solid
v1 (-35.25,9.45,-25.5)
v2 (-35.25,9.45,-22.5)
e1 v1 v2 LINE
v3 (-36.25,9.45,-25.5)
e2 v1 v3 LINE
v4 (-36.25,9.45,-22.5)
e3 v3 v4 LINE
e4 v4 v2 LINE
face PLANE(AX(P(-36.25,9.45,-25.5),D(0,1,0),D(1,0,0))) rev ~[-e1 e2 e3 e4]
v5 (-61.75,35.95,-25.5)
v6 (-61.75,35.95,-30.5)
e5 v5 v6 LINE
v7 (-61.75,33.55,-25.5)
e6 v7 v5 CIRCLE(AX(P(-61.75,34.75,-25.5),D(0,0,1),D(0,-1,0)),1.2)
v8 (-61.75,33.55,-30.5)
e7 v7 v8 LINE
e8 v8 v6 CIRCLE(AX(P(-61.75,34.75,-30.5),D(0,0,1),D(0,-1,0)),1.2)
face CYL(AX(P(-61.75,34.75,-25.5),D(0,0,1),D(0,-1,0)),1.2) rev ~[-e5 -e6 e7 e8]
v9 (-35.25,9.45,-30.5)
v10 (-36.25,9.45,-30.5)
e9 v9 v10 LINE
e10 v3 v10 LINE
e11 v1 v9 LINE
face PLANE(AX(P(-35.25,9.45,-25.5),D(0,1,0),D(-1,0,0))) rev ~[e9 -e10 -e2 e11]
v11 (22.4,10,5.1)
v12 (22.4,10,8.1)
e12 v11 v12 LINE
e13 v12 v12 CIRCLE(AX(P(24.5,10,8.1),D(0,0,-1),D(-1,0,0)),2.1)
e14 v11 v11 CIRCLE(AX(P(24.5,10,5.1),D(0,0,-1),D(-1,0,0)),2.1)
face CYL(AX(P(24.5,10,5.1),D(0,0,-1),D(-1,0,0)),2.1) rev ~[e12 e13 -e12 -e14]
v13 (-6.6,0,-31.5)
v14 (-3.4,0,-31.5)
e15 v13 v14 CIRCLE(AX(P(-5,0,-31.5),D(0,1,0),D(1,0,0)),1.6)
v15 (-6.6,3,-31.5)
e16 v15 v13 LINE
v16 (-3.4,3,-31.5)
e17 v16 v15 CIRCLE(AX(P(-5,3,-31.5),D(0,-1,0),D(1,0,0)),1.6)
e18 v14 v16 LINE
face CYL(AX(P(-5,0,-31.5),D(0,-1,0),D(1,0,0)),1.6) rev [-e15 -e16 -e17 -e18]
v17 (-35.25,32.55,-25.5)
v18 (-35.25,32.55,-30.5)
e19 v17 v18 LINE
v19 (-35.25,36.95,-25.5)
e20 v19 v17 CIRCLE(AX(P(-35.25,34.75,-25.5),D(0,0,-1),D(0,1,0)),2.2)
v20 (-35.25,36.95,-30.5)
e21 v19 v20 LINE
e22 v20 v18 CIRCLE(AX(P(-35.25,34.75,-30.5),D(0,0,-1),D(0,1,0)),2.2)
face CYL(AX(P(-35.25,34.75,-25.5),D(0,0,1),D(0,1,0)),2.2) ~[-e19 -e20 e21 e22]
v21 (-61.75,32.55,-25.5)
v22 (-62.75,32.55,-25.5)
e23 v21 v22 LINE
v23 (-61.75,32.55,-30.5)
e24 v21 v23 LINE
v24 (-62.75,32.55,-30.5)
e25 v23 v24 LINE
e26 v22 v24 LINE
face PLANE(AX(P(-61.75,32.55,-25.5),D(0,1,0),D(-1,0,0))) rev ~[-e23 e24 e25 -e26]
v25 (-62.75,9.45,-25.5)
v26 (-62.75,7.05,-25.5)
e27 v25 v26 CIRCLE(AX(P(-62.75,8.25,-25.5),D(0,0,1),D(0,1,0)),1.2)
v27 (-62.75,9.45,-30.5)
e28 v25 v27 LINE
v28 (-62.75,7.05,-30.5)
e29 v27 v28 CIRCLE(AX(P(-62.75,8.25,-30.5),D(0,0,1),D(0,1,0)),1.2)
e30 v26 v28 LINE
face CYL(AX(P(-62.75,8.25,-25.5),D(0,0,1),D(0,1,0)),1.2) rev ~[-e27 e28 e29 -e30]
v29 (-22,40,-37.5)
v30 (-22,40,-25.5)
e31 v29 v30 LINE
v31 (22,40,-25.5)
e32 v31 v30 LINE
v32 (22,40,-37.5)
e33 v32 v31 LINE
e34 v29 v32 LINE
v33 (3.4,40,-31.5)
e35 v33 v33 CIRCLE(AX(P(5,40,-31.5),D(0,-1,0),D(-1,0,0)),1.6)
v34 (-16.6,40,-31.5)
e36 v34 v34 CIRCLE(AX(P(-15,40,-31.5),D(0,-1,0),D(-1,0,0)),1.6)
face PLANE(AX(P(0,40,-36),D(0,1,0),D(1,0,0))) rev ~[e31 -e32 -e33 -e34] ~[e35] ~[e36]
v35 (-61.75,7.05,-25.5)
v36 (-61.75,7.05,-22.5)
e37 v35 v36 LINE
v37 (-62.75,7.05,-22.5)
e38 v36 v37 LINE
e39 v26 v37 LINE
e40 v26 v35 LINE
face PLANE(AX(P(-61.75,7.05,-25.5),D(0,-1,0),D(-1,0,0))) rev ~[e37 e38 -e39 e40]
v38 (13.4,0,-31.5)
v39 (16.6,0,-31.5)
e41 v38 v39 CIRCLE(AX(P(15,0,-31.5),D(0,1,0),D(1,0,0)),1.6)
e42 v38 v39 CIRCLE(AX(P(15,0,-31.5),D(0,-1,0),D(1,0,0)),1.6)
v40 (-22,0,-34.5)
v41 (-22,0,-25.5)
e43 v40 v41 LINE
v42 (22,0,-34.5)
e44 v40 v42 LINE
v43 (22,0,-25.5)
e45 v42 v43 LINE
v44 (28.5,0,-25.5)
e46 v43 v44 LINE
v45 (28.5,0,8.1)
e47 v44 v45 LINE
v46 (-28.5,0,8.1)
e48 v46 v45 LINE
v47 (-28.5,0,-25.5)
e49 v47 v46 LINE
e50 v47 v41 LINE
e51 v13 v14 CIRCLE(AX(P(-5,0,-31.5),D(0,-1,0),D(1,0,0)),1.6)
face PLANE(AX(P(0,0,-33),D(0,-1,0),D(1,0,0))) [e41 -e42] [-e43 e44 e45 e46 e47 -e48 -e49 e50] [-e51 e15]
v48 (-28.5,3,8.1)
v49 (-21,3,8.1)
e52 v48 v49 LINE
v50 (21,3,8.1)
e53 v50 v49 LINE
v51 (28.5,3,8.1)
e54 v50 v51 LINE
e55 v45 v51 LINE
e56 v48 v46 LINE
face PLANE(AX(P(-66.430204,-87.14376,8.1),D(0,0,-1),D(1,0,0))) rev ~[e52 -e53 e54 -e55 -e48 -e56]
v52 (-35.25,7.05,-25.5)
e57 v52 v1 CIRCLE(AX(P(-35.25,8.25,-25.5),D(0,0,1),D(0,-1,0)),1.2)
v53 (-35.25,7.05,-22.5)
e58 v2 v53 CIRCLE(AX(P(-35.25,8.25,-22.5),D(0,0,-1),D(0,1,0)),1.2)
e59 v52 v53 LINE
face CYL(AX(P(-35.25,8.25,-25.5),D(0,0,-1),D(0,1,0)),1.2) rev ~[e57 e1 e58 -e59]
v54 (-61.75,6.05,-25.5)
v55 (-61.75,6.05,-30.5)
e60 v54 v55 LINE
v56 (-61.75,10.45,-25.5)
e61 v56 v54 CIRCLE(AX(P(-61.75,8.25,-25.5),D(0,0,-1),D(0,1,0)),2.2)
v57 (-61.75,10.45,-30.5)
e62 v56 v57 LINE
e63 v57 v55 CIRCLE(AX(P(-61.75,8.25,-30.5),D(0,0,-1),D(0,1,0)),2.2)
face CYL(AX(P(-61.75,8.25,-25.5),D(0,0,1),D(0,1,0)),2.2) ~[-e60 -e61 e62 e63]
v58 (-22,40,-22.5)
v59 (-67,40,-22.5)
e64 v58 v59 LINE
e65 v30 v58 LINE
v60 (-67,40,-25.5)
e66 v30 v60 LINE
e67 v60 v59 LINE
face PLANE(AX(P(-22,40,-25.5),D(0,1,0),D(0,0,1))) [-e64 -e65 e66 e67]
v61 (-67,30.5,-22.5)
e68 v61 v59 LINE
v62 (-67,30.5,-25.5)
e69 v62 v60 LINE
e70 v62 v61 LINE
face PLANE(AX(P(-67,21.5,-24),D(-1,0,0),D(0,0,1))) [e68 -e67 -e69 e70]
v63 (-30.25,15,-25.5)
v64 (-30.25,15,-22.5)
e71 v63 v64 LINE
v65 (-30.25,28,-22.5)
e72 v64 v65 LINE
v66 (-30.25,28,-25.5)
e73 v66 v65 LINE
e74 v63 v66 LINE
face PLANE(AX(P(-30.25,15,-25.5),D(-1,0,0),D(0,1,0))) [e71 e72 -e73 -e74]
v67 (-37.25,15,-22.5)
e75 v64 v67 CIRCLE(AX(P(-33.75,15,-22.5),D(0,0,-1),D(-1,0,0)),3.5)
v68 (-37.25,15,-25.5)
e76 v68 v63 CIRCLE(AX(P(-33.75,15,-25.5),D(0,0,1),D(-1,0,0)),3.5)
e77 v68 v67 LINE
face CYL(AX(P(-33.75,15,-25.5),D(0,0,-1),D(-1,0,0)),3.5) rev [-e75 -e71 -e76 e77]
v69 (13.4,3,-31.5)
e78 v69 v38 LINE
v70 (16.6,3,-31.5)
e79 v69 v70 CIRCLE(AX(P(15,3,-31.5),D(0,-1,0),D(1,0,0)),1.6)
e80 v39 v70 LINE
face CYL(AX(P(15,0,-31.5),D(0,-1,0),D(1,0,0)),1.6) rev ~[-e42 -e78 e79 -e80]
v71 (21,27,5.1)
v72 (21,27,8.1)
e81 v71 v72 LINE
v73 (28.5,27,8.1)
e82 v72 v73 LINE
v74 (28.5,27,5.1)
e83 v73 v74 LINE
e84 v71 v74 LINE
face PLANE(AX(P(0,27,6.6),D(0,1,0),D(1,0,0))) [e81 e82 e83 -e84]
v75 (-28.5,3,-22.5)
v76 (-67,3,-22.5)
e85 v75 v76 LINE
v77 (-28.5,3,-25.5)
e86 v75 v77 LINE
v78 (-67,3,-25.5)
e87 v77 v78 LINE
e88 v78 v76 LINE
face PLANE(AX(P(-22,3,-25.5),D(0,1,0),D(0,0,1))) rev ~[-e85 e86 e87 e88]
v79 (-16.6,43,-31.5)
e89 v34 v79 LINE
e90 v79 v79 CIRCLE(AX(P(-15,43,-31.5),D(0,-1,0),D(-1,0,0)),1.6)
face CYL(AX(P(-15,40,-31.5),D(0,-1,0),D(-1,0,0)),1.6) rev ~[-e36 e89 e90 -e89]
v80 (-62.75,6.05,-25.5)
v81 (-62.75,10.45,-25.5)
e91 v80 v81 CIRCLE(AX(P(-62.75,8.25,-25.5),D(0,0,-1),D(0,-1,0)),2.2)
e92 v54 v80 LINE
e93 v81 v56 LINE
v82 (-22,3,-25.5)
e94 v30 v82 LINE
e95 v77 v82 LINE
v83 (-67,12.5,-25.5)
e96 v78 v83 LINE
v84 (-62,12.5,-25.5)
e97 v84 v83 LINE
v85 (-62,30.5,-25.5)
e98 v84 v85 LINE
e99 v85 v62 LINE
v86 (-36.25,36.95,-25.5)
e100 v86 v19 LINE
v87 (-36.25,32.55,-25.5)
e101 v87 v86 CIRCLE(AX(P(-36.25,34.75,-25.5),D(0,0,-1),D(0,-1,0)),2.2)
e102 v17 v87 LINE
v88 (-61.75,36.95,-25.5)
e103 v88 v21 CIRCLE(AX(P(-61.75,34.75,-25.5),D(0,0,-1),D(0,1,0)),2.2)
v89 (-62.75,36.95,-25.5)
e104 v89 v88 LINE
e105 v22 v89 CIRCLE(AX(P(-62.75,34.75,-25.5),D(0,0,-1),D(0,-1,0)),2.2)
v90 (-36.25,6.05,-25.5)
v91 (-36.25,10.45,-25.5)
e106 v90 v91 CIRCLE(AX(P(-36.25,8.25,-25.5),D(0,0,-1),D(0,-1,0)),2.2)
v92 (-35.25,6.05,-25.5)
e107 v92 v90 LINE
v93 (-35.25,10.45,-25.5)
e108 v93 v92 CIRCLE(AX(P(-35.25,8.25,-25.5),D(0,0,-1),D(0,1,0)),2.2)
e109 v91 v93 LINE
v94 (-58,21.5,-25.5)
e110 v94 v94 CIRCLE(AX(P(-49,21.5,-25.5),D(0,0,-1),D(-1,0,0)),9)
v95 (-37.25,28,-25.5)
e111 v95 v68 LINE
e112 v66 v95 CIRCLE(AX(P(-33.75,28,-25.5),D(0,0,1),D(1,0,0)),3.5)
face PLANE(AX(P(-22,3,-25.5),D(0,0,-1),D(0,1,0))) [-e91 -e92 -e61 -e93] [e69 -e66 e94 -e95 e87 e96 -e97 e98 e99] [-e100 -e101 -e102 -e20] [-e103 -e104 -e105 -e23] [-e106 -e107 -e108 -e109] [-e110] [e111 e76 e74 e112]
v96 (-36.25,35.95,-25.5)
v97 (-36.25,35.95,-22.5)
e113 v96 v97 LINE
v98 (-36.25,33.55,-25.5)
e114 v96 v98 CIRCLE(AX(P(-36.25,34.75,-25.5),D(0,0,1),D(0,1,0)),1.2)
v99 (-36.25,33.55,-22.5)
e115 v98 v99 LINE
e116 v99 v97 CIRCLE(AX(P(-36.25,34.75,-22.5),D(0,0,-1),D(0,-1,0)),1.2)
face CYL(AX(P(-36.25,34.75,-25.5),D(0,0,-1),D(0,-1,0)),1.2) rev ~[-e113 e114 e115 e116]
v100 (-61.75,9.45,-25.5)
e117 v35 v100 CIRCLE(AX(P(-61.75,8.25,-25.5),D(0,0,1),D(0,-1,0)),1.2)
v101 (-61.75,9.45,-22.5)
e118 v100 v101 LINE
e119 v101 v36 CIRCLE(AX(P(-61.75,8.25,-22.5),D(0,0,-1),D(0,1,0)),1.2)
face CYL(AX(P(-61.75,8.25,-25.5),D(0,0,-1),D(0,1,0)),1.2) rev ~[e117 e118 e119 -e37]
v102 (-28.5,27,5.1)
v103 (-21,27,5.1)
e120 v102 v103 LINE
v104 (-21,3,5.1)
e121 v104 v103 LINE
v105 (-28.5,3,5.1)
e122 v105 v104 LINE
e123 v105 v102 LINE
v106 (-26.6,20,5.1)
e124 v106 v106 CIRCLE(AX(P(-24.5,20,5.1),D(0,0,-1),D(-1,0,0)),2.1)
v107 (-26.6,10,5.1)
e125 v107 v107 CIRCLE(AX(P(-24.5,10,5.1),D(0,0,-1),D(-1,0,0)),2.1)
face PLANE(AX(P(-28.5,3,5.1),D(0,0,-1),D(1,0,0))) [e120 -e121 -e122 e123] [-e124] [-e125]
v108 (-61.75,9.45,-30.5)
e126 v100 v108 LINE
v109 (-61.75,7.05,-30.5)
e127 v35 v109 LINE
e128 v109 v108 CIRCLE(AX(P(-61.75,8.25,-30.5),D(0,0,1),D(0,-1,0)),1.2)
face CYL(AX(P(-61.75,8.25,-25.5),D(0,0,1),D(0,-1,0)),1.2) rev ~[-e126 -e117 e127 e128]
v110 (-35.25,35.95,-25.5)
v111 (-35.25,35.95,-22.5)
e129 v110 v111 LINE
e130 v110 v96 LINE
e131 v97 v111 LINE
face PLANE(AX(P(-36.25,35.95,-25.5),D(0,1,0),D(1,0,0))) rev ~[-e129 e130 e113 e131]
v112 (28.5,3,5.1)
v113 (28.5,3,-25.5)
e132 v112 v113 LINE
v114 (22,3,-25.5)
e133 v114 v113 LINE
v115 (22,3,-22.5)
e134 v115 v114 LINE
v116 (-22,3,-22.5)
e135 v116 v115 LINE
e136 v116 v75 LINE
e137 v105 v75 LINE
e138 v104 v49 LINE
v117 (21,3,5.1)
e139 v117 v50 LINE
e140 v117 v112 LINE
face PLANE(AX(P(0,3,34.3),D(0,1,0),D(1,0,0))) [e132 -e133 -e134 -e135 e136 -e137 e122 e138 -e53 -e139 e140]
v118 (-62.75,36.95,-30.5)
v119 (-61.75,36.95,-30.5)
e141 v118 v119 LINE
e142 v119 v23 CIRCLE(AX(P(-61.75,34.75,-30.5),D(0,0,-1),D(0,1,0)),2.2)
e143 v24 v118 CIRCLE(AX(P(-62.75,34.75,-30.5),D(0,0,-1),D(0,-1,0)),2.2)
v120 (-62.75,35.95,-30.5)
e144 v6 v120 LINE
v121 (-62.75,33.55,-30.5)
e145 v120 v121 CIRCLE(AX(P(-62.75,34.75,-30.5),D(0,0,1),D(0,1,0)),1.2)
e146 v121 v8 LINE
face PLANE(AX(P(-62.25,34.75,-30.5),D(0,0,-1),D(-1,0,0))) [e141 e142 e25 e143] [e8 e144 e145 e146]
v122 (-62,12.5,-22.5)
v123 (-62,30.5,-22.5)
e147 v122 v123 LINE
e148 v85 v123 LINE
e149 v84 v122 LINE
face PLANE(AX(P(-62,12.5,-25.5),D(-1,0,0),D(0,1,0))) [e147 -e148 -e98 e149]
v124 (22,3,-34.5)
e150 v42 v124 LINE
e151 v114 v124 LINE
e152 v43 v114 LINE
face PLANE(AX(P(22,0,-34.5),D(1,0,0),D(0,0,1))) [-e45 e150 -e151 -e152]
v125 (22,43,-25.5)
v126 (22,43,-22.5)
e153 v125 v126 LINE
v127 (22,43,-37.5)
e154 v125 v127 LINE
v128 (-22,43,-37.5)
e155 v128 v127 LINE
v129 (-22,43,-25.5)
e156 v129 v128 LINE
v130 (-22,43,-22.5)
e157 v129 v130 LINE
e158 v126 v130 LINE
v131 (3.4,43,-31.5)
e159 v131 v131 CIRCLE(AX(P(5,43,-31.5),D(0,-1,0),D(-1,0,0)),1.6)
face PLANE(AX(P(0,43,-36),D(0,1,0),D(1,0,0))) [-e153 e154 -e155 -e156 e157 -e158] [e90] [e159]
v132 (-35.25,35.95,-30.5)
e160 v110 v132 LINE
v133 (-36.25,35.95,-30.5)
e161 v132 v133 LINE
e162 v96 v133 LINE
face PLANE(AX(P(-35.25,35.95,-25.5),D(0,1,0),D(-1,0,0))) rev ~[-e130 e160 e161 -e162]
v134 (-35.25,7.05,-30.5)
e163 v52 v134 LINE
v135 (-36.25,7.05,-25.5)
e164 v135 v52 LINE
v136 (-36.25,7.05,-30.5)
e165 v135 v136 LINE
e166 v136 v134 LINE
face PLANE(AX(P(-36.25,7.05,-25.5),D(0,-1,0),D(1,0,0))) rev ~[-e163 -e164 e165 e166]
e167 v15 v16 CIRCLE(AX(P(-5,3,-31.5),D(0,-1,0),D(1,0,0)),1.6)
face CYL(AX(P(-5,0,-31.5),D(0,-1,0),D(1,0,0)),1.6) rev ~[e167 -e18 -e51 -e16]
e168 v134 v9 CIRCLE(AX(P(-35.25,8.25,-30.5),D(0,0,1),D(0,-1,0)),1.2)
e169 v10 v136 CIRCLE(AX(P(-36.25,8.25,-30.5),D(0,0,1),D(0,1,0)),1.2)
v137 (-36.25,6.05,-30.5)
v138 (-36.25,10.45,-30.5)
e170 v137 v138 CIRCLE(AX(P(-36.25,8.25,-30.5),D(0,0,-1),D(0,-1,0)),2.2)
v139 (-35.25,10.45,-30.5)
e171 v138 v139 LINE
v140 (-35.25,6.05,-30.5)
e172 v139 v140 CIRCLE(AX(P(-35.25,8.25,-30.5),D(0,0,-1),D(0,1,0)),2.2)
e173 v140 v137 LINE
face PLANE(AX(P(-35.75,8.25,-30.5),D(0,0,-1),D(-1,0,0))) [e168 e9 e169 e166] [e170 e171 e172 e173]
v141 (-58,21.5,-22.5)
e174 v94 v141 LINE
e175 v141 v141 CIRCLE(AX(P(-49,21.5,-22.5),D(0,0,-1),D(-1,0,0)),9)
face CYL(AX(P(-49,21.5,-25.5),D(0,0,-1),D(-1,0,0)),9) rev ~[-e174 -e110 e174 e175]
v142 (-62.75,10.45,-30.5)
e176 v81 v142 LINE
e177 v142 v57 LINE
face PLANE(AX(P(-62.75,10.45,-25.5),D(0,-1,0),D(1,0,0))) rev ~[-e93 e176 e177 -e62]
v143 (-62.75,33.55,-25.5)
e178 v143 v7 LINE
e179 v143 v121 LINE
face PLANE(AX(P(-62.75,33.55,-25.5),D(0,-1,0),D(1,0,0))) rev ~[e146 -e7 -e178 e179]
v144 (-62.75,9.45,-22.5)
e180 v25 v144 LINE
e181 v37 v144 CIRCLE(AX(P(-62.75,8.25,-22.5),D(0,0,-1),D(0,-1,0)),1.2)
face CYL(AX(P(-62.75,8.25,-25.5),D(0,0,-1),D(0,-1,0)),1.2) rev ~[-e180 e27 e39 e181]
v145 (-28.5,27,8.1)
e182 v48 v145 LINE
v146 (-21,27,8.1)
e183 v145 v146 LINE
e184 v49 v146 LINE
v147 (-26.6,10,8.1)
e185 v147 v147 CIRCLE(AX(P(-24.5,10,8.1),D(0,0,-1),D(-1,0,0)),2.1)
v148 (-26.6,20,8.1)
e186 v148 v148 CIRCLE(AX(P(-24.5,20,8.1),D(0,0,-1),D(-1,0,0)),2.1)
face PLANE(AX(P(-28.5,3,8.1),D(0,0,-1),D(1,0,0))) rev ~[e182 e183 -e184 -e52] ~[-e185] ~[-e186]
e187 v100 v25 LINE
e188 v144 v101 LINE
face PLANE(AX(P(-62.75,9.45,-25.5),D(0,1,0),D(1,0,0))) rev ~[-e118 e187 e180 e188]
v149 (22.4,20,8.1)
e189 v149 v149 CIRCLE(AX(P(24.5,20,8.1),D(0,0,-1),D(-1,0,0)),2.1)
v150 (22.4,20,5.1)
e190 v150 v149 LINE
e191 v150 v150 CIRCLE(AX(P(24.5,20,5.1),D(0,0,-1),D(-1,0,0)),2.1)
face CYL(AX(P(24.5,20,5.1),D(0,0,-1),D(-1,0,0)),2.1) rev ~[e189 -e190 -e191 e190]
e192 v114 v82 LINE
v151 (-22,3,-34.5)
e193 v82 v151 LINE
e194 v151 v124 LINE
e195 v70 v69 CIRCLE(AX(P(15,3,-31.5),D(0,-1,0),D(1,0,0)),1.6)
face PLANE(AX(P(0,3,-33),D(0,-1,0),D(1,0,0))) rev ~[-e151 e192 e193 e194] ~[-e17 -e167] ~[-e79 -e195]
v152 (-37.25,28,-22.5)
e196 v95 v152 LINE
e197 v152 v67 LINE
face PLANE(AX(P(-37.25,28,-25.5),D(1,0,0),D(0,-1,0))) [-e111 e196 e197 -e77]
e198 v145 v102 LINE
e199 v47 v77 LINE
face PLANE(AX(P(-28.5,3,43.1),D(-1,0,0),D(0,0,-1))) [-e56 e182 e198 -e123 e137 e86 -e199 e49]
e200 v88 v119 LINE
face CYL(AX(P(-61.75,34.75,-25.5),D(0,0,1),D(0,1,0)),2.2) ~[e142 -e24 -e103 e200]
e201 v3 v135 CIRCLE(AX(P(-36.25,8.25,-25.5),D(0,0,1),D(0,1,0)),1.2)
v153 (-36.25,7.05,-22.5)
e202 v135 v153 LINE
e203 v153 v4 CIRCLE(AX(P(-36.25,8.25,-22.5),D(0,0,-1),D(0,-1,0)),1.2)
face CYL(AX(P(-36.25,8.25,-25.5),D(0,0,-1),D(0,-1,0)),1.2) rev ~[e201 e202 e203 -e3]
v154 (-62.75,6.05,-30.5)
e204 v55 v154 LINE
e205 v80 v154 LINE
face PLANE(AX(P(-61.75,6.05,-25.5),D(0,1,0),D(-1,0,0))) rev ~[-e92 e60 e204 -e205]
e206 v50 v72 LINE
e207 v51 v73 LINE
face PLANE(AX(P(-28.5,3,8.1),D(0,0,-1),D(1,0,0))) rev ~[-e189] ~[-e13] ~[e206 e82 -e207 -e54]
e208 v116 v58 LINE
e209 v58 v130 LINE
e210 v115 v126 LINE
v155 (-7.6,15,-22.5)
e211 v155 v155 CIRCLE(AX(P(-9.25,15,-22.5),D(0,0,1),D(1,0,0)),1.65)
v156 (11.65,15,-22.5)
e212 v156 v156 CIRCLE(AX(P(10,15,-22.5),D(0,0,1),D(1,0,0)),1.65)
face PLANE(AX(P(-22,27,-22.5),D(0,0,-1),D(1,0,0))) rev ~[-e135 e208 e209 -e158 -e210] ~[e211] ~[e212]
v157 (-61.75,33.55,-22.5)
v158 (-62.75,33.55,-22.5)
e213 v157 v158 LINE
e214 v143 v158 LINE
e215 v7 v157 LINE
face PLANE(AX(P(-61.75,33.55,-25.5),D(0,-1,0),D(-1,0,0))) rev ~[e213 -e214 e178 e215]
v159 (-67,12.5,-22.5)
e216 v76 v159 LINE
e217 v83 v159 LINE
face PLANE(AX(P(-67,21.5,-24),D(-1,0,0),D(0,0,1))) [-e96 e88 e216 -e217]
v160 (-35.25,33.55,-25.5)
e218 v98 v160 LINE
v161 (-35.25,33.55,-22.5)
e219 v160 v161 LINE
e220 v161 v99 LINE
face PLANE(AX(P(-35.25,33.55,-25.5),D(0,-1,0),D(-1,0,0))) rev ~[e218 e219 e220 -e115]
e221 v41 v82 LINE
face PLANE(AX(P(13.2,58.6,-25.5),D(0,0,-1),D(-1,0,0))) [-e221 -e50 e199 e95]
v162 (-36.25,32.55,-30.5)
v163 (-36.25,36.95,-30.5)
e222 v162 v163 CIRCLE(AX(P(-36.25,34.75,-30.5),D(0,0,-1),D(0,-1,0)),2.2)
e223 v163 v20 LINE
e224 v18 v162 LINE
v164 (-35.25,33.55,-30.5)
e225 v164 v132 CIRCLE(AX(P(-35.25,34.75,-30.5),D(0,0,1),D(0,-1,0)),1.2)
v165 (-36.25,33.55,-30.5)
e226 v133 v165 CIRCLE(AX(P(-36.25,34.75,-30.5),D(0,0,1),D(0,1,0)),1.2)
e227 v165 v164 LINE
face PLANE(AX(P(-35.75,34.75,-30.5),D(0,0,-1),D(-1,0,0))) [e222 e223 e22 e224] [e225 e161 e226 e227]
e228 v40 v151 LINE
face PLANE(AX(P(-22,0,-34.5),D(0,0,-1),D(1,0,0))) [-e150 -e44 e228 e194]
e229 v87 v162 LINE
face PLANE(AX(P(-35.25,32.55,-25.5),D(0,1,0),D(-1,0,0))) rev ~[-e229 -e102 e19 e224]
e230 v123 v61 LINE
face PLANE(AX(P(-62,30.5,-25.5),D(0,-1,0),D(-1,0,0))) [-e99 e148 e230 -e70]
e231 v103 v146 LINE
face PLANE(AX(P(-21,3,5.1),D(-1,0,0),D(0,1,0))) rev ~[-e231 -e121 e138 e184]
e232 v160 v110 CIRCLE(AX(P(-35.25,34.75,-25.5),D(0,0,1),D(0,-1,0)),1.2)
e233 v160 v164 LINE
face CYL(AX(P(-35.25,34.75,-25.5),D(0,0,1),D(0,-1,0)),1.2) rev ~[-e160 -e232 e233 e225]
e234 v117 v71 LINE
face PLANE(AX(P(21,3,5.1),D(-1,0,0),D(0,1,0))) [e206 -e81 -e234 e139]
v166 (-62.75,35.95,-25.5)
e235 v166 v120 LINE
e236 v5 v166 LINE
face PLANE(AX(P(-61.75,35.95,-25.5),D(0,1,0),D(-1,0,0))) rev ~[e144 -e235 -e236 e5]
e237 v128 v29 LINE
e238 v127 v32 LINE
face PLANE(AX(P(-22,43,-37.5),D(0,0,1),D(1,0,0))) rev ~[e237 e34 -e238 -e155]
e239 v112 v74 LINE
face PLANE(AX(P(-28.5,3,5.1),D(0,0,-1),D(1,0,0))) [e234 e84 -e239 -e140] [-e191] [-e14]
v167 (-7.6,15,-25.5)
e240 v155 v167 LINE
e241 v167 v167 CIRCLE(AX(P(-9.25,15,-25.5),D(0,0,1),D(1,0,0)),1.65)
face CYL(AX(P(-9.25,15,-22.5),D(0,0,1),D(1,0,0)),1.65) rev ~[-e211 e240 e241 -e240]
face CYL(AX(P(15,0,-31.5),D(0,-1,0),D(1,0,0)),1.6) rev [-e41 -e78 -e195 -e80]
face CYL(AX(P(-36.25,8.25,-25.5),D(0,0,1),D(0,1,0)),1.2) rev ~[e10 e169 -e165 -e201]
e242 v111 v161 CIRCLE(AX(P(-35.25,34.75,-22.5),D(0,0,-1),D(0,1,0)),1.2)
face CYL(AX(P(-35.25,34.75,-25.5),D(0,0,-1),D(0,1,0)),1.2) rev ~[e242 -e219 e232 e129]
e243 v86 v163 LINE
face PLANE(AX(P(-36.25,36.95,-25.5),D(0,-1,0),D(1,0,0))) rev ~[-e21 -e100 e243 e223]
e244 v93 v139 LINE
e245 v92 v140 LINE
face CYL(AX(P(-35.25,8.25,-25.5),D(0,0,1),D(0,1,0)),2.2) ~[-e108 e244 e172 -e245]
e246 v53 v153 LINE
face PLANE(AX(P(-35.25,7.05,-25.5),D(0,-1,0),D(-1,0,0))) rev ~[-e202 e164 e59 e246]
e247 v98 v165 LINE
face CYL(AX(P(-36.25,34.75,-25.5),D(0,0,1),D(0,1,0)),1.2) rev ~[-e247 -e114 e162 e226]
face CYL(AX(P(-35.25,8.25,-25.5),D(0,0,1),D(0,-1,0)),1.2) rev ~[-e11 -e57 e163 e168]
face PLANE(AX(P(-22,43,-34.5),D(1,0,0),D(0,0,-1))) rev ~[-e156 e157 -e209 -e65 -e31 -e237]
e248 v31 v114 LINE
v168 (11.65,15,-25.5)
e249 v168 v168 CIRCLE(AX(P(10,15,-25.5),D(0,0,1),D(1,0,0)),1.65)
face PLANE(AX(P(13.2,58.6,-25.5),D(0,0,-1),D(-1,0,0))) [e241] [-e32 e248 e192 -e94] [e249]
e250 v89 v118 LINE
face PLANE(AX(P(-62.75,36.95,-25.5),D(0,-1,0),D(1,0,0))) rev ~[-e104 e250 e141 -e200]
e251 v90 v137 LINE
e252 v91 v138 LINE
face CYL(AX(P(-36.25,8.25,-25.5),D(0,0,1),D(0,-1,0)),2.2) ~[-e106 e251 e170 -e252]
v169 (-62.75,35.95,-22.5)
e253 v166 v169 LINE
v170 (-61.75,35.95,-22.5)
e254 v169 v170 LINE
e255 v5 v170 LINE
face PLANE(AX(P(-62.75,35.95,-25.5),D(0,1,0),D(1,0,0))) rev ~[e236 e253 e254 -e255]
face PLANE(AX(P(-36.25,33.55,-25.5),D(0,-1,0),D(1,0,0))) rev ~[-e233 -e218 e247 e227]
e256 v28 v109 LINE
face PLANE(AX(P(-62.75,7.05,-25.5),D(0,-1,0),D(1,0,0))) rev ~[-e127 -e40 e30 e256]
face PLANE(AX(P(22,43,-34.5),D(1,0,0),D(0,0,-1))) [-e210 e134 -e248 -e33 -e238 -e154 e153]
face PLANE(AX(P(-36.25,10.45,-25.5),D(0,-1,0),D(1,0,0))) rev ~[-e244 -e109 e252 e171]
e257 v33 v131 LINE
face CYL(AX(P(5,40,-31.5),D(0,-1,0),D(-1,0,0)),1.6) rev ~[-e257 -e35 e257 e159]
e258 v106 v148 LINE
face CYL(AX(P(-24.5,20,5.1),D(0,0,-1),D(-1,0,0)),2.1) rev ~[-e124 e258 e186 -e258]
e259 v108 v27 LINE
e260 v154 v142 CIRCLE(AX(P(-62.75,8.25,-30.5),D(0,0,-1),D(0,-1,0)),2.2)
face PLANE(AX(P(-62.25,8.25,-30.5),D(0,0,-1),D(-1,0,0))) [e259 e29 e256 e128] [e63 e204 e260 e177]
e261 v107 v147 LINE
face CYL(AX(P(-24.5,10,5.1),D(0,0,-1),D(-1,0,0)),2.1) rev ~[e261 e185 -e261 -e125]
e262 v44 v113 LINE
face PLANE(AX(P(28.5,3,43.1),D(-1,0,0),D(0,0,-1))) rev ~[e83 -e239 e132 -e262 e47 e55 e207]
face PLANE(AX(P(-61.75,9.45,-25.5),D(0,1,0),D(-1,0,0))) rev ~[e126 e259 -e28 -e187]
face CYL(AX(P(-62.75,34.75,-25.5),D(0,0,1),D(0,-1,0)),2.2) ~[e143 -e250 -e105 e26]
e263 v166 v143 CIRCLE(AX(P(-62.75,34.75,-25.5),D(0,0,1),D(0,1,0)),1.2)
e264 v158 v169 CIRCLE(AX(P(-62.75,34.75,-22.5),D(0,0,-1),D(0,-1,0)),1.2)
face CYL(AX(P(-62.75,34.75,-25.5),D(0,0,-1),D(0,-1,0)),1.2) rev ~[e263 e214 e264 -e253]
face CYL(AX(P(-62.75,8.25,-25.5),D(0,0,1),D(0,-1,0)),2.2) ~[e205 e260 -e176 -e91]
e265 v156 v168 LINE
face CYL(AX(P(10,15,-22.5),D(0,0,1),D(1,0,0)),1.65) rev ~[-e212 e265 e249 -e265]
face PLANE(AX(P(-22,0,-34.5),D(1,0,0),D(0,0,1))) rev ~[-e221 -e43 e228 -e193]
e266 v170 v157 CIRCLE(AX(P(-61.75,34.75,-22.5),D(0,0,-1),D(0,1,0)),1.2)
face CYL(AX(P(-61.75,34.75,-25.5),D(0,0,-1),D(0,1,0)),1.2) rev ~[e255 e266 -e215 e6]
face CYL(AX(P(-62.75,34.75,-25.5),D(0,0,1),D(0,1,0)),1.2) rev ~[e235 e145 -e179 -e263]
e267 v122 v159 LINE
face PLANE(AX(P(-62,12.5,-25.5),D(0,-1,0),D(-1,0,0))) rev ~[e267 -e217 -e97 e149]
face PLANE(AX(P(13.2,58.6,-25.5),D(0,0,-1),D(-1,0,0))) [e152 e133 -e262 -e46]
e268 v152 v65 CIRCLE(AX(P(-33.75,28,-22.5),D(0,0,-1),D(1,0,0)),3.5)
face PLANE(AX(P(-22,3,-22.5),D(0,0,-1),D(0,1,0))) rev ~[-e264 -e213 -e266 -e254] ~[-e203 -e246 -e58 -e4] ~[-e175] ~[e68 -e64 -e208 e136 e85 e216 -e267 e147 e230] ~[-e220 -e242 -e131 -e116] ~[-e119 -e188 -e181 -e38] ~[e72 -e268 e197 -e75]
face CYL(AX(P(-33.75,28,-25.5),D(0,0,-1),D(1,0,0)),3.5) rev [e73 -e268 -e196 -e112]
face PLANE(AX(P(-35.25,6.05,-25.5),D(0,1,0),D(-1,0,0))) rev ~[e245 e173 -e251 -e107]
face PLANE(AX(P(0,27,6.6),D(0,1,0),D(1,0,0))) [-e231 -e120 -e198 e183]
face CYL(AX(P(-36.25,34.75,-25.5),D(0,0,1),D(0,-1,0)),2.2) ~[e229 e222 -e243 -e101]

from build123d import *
from build123d.topology import SkipClean

# Parameters (mm, degrees)
SKETCH_1_W                = 57
SKETCH_1_H                = 51
EXTRUDE_1_DEPTH           = 3
SKETCH_3_W                = 44
SKETCH_3_H                = 3
EXTRUDE_3_DEPTH           = 24
SKETCH_5_W                = 57
SKETCH_5_H                = 3
EXTRUDE_4_DEPTH           = 24
SKETCH_7_R                = 2.1
CUT_EXTRUDE_1_DEPTH       = 3
SKETCH_8_W                = 42
SKETCH_8_H                = 24
CUT_EXTRUDE_2_DEPTH       = 3
SKETCH_10_W               = 44
SKETCH_10_H               = 3
EXTRUDE_5_DEPTH           = 55
SKETCH_11_R               = 2.25
EXTRUDE_6_DEPTH           = 8
SKETCH_12_W               = 13
SKETCH_12_H               = 8
CUT_EXTRUDE_4_DEPTH       = 8
SKETCH_13_R               = 1.1
CUT_EXTRUDE_5_DEPTH       = 5
SKETCH_14_W               = 44
SKETCH_14_H               = 3
EXTRUDE_7_DEPTH           = 6
SKETCH_15_W               = 44
SKETCH_15_H               = 3
EXTRUDE_8_DEPTH           = 9
SKETCH_16_R               = 1.6
CUT_EXTRUDE_6_DEPTH       = 9
SKETCH_17_R               = 1.6
CUT_EXTRUDE_8_DEPTH       = 9
SKETCH_18_W               = 57
SKETCH_18_H               = 17.6
EXTRUDE_9_DEPTH           = 3
SKETCH_19_W               = 57
SKETCH_19_H               = 3
EXTRUDE_10_DEPTH          = 25
SKETCH_20_W               = 51.895035654
SKETCH_20_H               = 47.139393347
CUT_EXTRUDE_9_DEPTH       = 10
SKETCH_21_W               = 3
SKETCH_21_H               = 32
EXTRUDE_11_DEPTH          = 34
SKETCH_22_R               = 2.25
SKETCH_22_R_2             = 1.2
EXTRUDE_12_DEPTH          = 5
SKETCH_24_R               = 9
CUT_EXTRUDE_11_DEPTH      = 5
SKETCH_25_R               = 1.65
CUT_EXTRUDE_12_DEPTH      = 10
SKETCH_26_R               = 1.1
SKETCH_26_R_2             = 1.2
CUT_EXTRUDE_13_DEPTH      = 10
SKETCH_27_W               = 20.53
SKETCH_27_H               = 21
CUT_EXTRUDE_14_DEPTH      = 10
SKETCH_28_W               = 44
SKETCH_28_H               = 3
EXTRUDE_13_DEPTH          = 3
SKETCH_29_W               = 44
SKETCH_29_H               = 3
EXTRUDE_14_DEPTH          = 3
SKETCH_30_R               = 1.6
CUT_EXTRUDE_15_DEPTH      = 3
SKETCH_33_R               = 1.65
CUT_EXTRUDE_16_DEPTH      = 3
SKETCH_34_W               = 3
SKETCH_34_H               = 37
EXTRUDE_15_DEPTH          = 45
EXTRUDE_17_DEPTH          = 5
CUT_EXTRUDE_18_DEPTH      = 5
SKETCH_35_4_R             = 9
CUT_EXTRUDE_19_DEPTH      = 5
SKETCH_37_W               = 10
SKETCH_37_H               = 18
CUT_EXTRUDE_20_DEPTH      = 5
CUT_EXTRUDE_21_DEPTH      = 90.143760298
CUT_EXTRUDE_21_DEPTH_BACK = 90.143760298
SKETCH_32_W               = 94.930204489
SKETCH_32_H               = 40.916543237


with BuildPart() as part:
    # 草图1 → 凸台-拉伸1 (new body)
    with BuildSketch(Plane(origin=(0, 0, 0), x_dir=(1, 0, 0), z_dir=(0, 1, 0))):
        Rectangle(SKETCH_1_W, SKETCH_1_H)
    extrude(amount=EXTRUDE_1_DEPTH)

    # 草图3 → 凸台-拉伸3 (add)
    with BuildSketch(Plane(origin=(0, 3, 0), x_dir=(1, 0, 0), z_dir=(0, 1, 0))):
        with Locations((0, 24)):
            Rectangle(SKETCH_3_W, SKETCH_3_H)
    extrude(amount=EXTRUDE_3_DEPTH)

    # 草图5 → 凸台-拉伸4 (add)
    with BuildSketch(Plane(origin=(0, 3, 0), x_dir=(1, 0, 0), z_dir=(0, 1, 0))):
        with Locations((0, -6.6)):
            Rectangle(SKETCH_5_W, SKETCH_5_H)
    extrude(amount=EXTRUDE_4_DEPTH)

    # 草图7 → 切除-拉伸1 (cut)
    with BuildSketch(Plane(origin=(0, 0, 5.1), x_dir=(-1, 0, 0), z_dir=(0, 0, -1))):
        with Locations((-24.5, 20)):
            Circle(SKETCH_7_R)
        with Locations((-24.5, 10)):
            Circle(SKETCH_7_R)
        with Locations((24.5, 20)):
            Circle(SKETCH_7_R)
        with Locations((24.5, 10)):
            Circle(SKETCH_7_R)
    extrude(amount=-CUT_EXTRUDE_1_DEPTH, mode=Mode.SUBTRACT)

    # 草图8 → 切除-拉伸2 (cut)
    with BuildSketch(Plane(origin=(0, 0, 5.1), x_dir=(-1, 0, 0), z_dir=(0, 0, -1))):
        with Locations((0, 15)):
            Rectangle(SKETCH_8_W, SKETCH_8_H)
    extrude(amount=-CUT_EXTRUDE_2_DEPTH, mode=Mode.SUBTRACT)

    # 草图10 → 凸台-拉伸5 (add)
    with BuildSketch(Plane(origin=(0, 27, 0), x_dir=(1, 0, 0), z_dir=(0, 1, 0))):
        with Locations((0, 24)):
            Rectangle(SKETCH_10_W, SKETCH_10_H)
    extrude(amount=EXTRUDE_5_DEPTH)

    # 草图11 → 凸台-拉伸6 (add)
    with BuildSketch(Plane(origin=(0, 0, -25.5), x_dir=(-1, 0, 0), z_dir=(0, 0, -1))):
        with Locations((-13.2, 85)):
            Circle(SKETCH_11_R)
        with Locations((13.2, 85)):
            Circle(SKETCH_11_R)
        with Locations((-13.2, 58.6)):
            Circle(SKETCH_11_R)
        with Locations((13.2, 58.6)):
            Circle(SKETCH_11_R)
    extrude(amount=-EXTRUDE_6_DEPTH)


with BuildPart() as extrude_6_piece_1:
    # of the separate pieces the step leaves, piece 1, a body of its own (extrude_6_pieces)
    add(part.part.solids().sort_by_distance((-28.5, 0, -25.5))[0])

    # 草图12 → 切除-拉伸4 (cut)
    with BuildSketch(Plane.XY.offset(-22.5)):
        with Locations((-3.7, 58.6)):
            Rectangle(SKETCH_12_W, SKETCH_12_H)
    extrude(amount=-CUT_EXTRUDE_4_DEPTH, mode=Mode.SUBTRACT)

    # 草图13 → 切除-拉伸5 (cut)
    with BuildSketch(Plane.XY.offset(-17.5)):
        with Locations((13.2, 85)):
            Circle(SKETCH_13_R)
        with Locations((-13.2, 85)):
            Circle(SKETCH_13_R)
        with Locations((-13.2, 58.6)):
            Circle(SKETCH_13_R)
        with Locations((13.2, 58.6)):
            Circle(SKETCH_13_R)
    extrude(amount=-CUT_EXTRUDE_5_DEPTH, mode=Mode.SUBTRACT)

    # 草图14 → 凸台-拉伸7 (add)
    with BuildSketch(Plane(origin=(0, 0, -25.5), x_dir=(-1, 0, 0), z_dir=(0, 0, -1))):
        with Locations((0, 1.5)):
            Rectangle(SKETCH_14_W, SKETCH_14_H)
    extrude(amount=EXTRUDE_7_DEPTH)

    # 草图15 → 凸台-拉伸8 (add)
    with BuildSketch(Plane(origin=(0, 0, -25.5), x_dir=(-1, 0, 0), z_dir=(0, 0, -1))):
        with Locations((0, 41.5)):
            Rectangle(SKETCH_15_W, SKETCH_15_H)
    extrude(amount=EXTRUDE_8_DEPTH)

    # 草图16 → 切除-拉伸6 (cut)
    with BuildSketch(Plane(origin=(0, 40, 0), x_dir=(-1, 0, 0), z_dir=(0, -1, 0))):
        with Locations((15, 31.5)):
            Circle(SKETCH_16_R)
        with Locations((-5, 31.5)):
            Circle(SKETCH_16_R)
    extrude(amount=-CUT_EXTRUDE_6_DEPTH, mode=Mode.SUBTRACT)

    # 草图17 → 切除-拉伸8 (cut)
    with BuildSketch(Plane(origin=(0, 0, 0), x_dir=(1, 0, 0), z_dir=(0, 1, 0))):
        with Locations((-5, 31.5)):
            Circle(SKETCH_17_R)
        with Locations((15, 31.5)):
            Circle(SKETCH_17_R)
    extrude(amount=CUT_EXTRUDE_8_DEPTH, mode=Mode.SUBTRACT)

    # 草图18 → 凸台-拉伸9 (add)
    with BuildSketch(Plane(origin=(0, 3, 0), x_dir=(1, 0, 0), z_dir=(0, 1, 0))):
        with Locations((0, -34.3)):
            Rectangle(SKETCH_18_W, SKETCH_18_H)
    extrude(amount=-EXTRUDE_9_DEPTH)

    # 草图19 → 凸台-拉伸10 (add)
    with BuildSketch(Plane(origin=(0, 3, 0), x_dir=(1, 0, 0), z_dir=(0, 1, 0))):
        with Locations((0, -41.6)):
            Rectangle(SKETCH_19_W, SKETCH_19_H)
    extrude(amount=EXTRUDE_10_DEPTH)


with BuildPart() as extrude_6_piece_2:
    # of the separate pieces the step leaves, piece 2, a body of its own (extrude_6_pieces)
    add(part.part.solids().sort_by_distance((-15.45, 85, -25.5))[0])


with BuildPart() as extrude_6_piece_3:
    # of the separate pieces the step leaves, piece 3, a body of its own (extrude_6_pieces)
    add(part.part.solids().sort_by_distance((10.95, 85, -25.5))[0])


with BuildPart() as cut_extrude_9_tool:
    # 草图20 → 切除-拉伸9 (new body)
    with BuildSketch(Plane(origin=(0, 0, -25.5), x_dir=(-1, 0, 0), z_dir=(0, 0, -1))):
        with Locations((-3.947517827, 66.569696674)):
            Rectangle(SKETCH_20_W, SKETCH_20_H)
    extrude(amount=-CUT_EXTRUDE_9_DEPTH)


with BuildPart() as extrude_6_piece_1_1:
    add(extrude_6_piece_1.part)

    # 切除-拉伸9: cut by cut_extrude_9_tool
    add(cut_extrude_9_tool.part, mode=Mode.SUBTRACT)

    # 草图21 → 凸台-拉伸11 (add)
    with BuildSketch(Plane.ZY.offset(28.5)):
        with Locations((41.6, 16)):
            Rectangle(SKETCH_21_W, SKETCH_21_H)
    extrude(amount=EXTRUDE_11_DEPTH)

    # 草图22 → 凸台-拉伸12 (add)
    # profile 1 of 4: a face of its own
    with BuildSketch(Plane(origin=(0, 0, 40.1), x_dir=(-1, 0, 0), z_dir=(0, 0, -1))):
        with Locations((59.75, 2.75)):
            Circle(SKETCH_22_R)
        with Locations((59.75, 2.75)):
            Circle(SKETCH_22_R_2, mode=Mode.SUBTRACT)
    # profile 2 of 4: a face of its own
    with BuildSketch(Plane(origin=(0, 0, 40.1), x_dir=(-1, 0, 0), z_dir=(0, 0, -1))):
        with Locations((59.75, 29.25)):
            Circle(SKETCH_22_R)
        with Locations((59.75, 29.25)):
            Circle(SKETCH_22_R_2, mode=Mode.SUBTRACT)
    # profile 3 of 4: a face of its own
    with BuildSketch(Plane(origin=(0, 0, 40.1), x_dir=(-1, 0, 0), z_dir=(0, 0, -1))):
        with Locations((33.25, 29.25)):
            Circle(SKETCH_22_R)
        with Locations((33.25, 29.25)):
            Circle(SKETCH_22_R_2, mode=Mode.SUBTRACT)
    # profile 4 of 4: a face of its own
    with BuildSketch(Plane(origin=(0, 0, 40.1), x_dir=(-1, 0, 0), z_dir=(0, 0, -1))):
        with Locations((33.25, 2.75)):
            Circle(SKETCH_22_R)
        with Locations((33.25, 2.75)):
            Circle(SKETCH_22_R_2, mode=Mode.SUBTRACT)
    extrude(amount=EXTRUDE_12_DEPTH)

    # 草图24 → 切除-拉伸11 (cut)
    with BuildSketch(Plane(origin=(0, 0, 40.1), x_dir=(-1, 0, 0), z_dir=(0, 0, -1))):
        with Locations((46.5, 16)):
            Circle(SKETCH_24_R)
    extrude(amount=-CUT_EXTRUDE_11_DEPTH, mode=Mode.SUBTRACT)

    # 草图25 → 切除-拉伸12 (cut)
    with BuildSketch(Plane.XY.offset(43.1)):
        with Locations((-9.25, 15)):
            Circle(SKETCH_25_R)
        with Locations((10, 15)):
            Circle(SKETCH_25_R)
    extrude(amount=-CUT_EXTRUDE_12_DEPTH, mode=Mode.SUBTRACT)

    # 草图26 → 切除-拉伸13 (cut)
    with BuildSketch(Plane(origin=(0, 0, 40.1), x_dir=(-1, 0, 0), z_dir=(0, 0, -1))):
        with Locations((33.25, 2.75)):
            Circle(SKETCH_26_R)
        with Locations((33.25, 29.25)):
            Circle(SKETCH_26_R_2)
        with Locations((59.75, 29.25)):
            Circle(SKETCH_26_R_2)
        with Locations((59.75, 2.75)):
            Circle(SKETCH_26_R_2)
    extrude(amount=-CUT_EXTRUDE_13_DEPTH, mode=Mode.SUBTRACT)

    # 草图27 → 切除-拉伸14 (cut)
    with BuildSketch(Plane.XY.offset(43.1)):
        with BuildLine():
            Line((-34.75, 9.5), (-34.75, 22.5))
            ThreePointArc((-34.75, 22.5), (-31.25, 26), (-27.75, 22.5))
            Line((-27.75, 22.5), (-27.75, 9.5))
            ThreePointArc((-27.75, 9.5), (-31.25, 6), (-34.75, 9.5))
        make_face()
        with Locations((-69.113685247, 16)):
            Rectangle(SKETCH_27_W, SKETCH_27_H)
    extrude(amount=-CUT_EXTRUDE_14_DEPTH, mode=Mode.SUBTRACT)

    # 草图28 → 凸台-拉伸13 (add)
    with BuildSketch(Plane.XZ):
        with Locations((0, -33)):
            Rectangle(SKETCH_28_W, SKETCH_28_H)
    extrude(amount=-EXTRUDE_13_DEPTH)

    # 草图29 → 凸台-拉伸14 (add)
    with BuildSketch(Plane(origin=(0, 43, 0), x_dir=(1, 0, 0), z_dir=(0, 1, 0))):
        with Locations((0, 36)):
            Rectangle(SKETCH_29_W, SKETCH_29_H)
    extrude(amount=-EXTRUDE_14_DEPTH)

    # 草图30 → 切除-拉伸15 (cut)
    with SkipClean():  # the faces are left unmerged after this step: merging them gives an invalid solid
        with BuildSketch(Plane.XZ):
            with Locations((15, -31.5)):
                Circle(SKETCH_30_R)
            with Locations((-5, -31.5)):
                Circle(SKETCH_30_R)
        extrude(amount=-CUT_EXTRUDE_15_DEPTH, mode=Mode.SUBTRACT)

    # 草图33 → 切除-拉伸16 (cut)
    with SkipClean():  # the faces are left unmerged after this step: merging them gives an invalid solid
        with BuildSketch(Plane.XY.offset(-22.5)):
            with Locations((-9.25, 15)):
                Circle(SKETCH_33_R)
            with Locations((10, 15)):
                Circle(SKETCH_33_R)
        extrude(amount=-CUT_EXTRUDE_16_DEPTH, mode=Mode.SUBTRACT)

    # 草图34 → 凸台-拉伸15 (add)
    with SkipClean():  # the faces are left unmerged after this step: merging them gives an invalid solid
        with BuildSketch(Plane.ZY.offset(22)):
            with Locations((-24, 21.5)):
                Rectangle(SKETCH_34_W, SKETCH_34_H)
        extrude(amount=EXTRUDE_15_DEPTH)

    # 草图35 → 凸台-拉伸17 (add)
    # profile 1 of 4: a face of its own
    with SkipClean():  # the faces are left unmerged after this step: merging them gives an invalid solid
        with BuildSketch(Plane(origin=(0, 0, -25.5), x_dir=(-1, 0, 0), z_dir=(0, 0, -1))):
            with BuildLine():
                Line((36.25, 36.95), (35.25, 36.95))
                ThreePointArc((35.25, 36.95), (33.05, 34.75), (35.25, 32.55))
                Line((35.25, 32.55), (36.25, 32.55))
                ThreePointArc((36.25, 32.55), (38.45, 34.75), (36.25, 36.95))
            make_face()
            with BuildLine():
                ThreePointArc((35.25, 33.55), (34.05, 34.75), (35.25, 35.95))
                Line((35.25, 35.95), (36.25, 35.95))
                ThreePointArc((36.25, 35.95), (37.45, 34.75), (36.25, 33.55))
                Line((36.25, 33.55), (35.25, 33.55))
            make_face(mode=Mode.SUBTRACT)
        # profile 2 of 4: a face of its own
        with BuildSketch(Plane(origin=(0, 0, -25.5), x_dir=(-1, 0, 0), z_dir=(0, 0, -1))):
            with BuildLine():
                Line((62.75, 36.95), (61.75, 36.95))
                ThreePointArc((61.75, 36.95), (59.55, 34.75), (61.75, 32.55))
                Line((61.75, 32.55), (62.75, 32.55))
                ThreePointArc((62.75, 32.55), (64.95, 34.75), (62.75, 36.95))
            make_face()
            with BuildLine():
                ThreePointArc((61.75, 33.55), (60.55, 34.75), (61.75, 35.95))
                Line((61.75, 35.95), (62.75, 35.95))
                ThreePointArc((62.75, 35.95), (63.95, 34.75), (62.75, 33.55))
                Line((62.75, 33.55), (61.75, 33.55))
            make_face(mode=Mode.SUBTRACT)
        # profile 3 of 4: a face of its own
        with BuildSketch(Plane(origin=(0, 0, -25.5), x_dir=(-1, 0, 0), z_dir=(0, 0, -1))):
            with BuildLine():
                Line((62.75, 10.45), (61.75, 10.45))
                ThreePointArc((61.75, 10.45), (59.55, 8.25), (61.75, 6.05))
                Line((61.75, 6.05), (62.75, 6.05))
                ThreePointArc((62.75, 6.05), (64.95, 8.25), (62.75, 10.45))
            make_face()
            with BuildLine():
                ThreePointArc((61.75, 7.05), (60.55, 8.25), (61.75, 9.45))
                Line((61.75, 9.45), (62.75, 9.45))
                ThreePointArc((62.75, 9.45), (63.95, 8.25), (62.75, 7.05))
                Line((62.75, 7.05), (61.75, 7.05))
            make_face(mode=Mode.SUBTRACT)
        # profile 4 of 4: a face of its own
        with BuildSketch(Plane(origin=(0, 0, -25.5), x_dir=(-1, 0, 0), z_dir=(0, 0, -1))):
            with BuildLine():
                Line((36.25, 10.45), (35.25, 10.45))
                ThreePointArc((35.25, 10.45), (33.05, 8.25), (35.25, 6.05))
                Line((35.25, 6.05), (36.25, 6.05))
                ThreePointArc((36.25, 6.05), (38.45, 8.25), (36.25, 10.45))
            make_face()
            with BuildLine():
                ThreePointArc((35.25, 7.05), (34.05, 8.25), (35.25, 9.45))
                Line((35.25, 9.45), (36.25, 9.45))
                ThreePointArc((36.25, 9.45), (37.45, 8.25), (36.25, 7.05))
                Line((36.25, 7.05), (35.25, 7.05))
            make_face(mode=Mode.SUBTRACT)
        extrude(amount=EXTRUDE_17_DEPTH)

    # 草图36 → 切除-拉伸18 (cut)
    with SkipClean():  # the faces are left unmerged after this step: merging them gives an invalid solid
        with BuildSketch(Plane(origin=(0, 0, -25.5), x_dir=(-1, 0, 0), z_dir=(0, 0, -1))):
            with BuildLine():
                Line((35.25, 7.05), (36.25, 7.05))
                ThreePointArc((36.25, 7.05), (37.45, 8.25), (36.25, 9.45))
                Line((36.25, 9.45), (35.25, 9.45))
                ThreePointArc((35.25, 9.45), (34.05, 8.25), (35.25, 7.05))
            make_face()
            with BuildLine():
                Line((61.75, 7.05), (62.75, 7.05))
                ThreePointArc((62.75, 7.05), (63.95, 8.25), (62.75, 9.45))
                Line((62.75, 9.45), (61.75, 9.45))
                ThreePointArc((61.75, 9.45), (60.55, 8.25), (61.75, 7.05))
            make_face()
            with BuildLine():
                Line((61.75, 33.55), (62.75, 33.55))
                ThreePointArc((62.75, 33.55), (63.95, 34.75), (62.75, 35.95))
                Line((62.75, 35.95), (61.75, 35.95))
                ThreePointArc((61.75, 35.95), (60.55, 34.75), (61.75, 33.55))
            make_face()
            with BuildLine():
                Line((35.25, 33.55), (36.25, 33.55))
                ThreePointArc((36.25, 33.55), (37.45, 34.75), (36.25, 35.95))
                Line((36.25, 35.95), (35.25, 35.95))
                ThreePointArc((35.25, 35.95), (34.05, 34.75), (35.25, 33.55))
            make_face()
        extrude(amount=-CUT_EXTRUDE_18_DEPTH, mode=Mode.SUBTRACT)

    # 草图35<4> → 切除-拉伸19 (cut)
    with SkipClean():  # the faces are left unmerged after this step: merging them gives an invalid solid
        with BuildSketch(Plane(origin=(0, 0, -25.5), x_dir=(-1, 0, 0), z_dir=(0, 0, -1))):
            with Locations((49, 21.5)):
                Circle(SKETCH_35_4_R)
        extrude(amount=-CUT_EXTRUDE_19_DEPTH, mode=Mode.SUBTRACT)

    # 草图37 → 切除-拉伸20 (cut)
    with SkipClean():  # the faces are left unmerged after this step: merging them gives an invalid solid
        with BuildSketch(Plane(origin=(0, 0, -25.5), x_dir=(-1, 0, 0), z_dir=(0, 0, -1))):
            with BuildLine():
                Line((30.25, 15), (30.25, 28))
                ThreePointArc((30.25, 28), (33.75, 31.5), (37.25, 28))
                Line((37.25, 28), (37.25, 15))
                ThreePointArc((37.25, 15), (33.75, 11.5), (30.25, 15))
            make_face()
            with Locations((67, 21.5)):
                Rectangle(SKETCH_37_W, SKETCH_37_H)
        extrude(amount=-CUT_EXTRUDE_20_DEPTH, mode=Mode.SUBTRACT)

    # 草图32 → 切除-拉伸21 (cut, two sides: drawn at the far end of the back side and taken through both)
    with SkipClean():  # the faces are left unmerged after this step: merging them gives an invalid solid
        with BuildSketch(Plane(origin=(0, 3, 0), x_dir=(1, 0, 0), z_dir=(0, 1, 0)).offset(-CUT_EXTRUDE_21_DEPTH_BACK)):
            with Locations((-18.965102245, -28.558271619)):
                Rectangle(SKETCH_32_W, SKETCH_32_H)
        extrude(amount=CUT_EXTRUDE_21_DEPTH + CUT_EXTRUDE_21_DEPTH_BACK, mode=Mode.SUBTRACT)


with BuildPart() as extrude_6_piece_2_1:
    add(extrude_6_piece_2.part)

    # 切除-拉伸9: cut by cut_extrude_9_tool
    add(cut_extrude_9_tool.part, mode=Mode.SUBTRACT)


with BuildPart() as extrude_6_piece_3_1:
    add(extrude_6_piece_3.part)

    # 切除-拉伸9: cut by cut_extrude_9_tool
    add(cut_extrude_9_tool.part, mode=Mode.SUBTRACT)


solid = extrude_6_piece_1_1.part
